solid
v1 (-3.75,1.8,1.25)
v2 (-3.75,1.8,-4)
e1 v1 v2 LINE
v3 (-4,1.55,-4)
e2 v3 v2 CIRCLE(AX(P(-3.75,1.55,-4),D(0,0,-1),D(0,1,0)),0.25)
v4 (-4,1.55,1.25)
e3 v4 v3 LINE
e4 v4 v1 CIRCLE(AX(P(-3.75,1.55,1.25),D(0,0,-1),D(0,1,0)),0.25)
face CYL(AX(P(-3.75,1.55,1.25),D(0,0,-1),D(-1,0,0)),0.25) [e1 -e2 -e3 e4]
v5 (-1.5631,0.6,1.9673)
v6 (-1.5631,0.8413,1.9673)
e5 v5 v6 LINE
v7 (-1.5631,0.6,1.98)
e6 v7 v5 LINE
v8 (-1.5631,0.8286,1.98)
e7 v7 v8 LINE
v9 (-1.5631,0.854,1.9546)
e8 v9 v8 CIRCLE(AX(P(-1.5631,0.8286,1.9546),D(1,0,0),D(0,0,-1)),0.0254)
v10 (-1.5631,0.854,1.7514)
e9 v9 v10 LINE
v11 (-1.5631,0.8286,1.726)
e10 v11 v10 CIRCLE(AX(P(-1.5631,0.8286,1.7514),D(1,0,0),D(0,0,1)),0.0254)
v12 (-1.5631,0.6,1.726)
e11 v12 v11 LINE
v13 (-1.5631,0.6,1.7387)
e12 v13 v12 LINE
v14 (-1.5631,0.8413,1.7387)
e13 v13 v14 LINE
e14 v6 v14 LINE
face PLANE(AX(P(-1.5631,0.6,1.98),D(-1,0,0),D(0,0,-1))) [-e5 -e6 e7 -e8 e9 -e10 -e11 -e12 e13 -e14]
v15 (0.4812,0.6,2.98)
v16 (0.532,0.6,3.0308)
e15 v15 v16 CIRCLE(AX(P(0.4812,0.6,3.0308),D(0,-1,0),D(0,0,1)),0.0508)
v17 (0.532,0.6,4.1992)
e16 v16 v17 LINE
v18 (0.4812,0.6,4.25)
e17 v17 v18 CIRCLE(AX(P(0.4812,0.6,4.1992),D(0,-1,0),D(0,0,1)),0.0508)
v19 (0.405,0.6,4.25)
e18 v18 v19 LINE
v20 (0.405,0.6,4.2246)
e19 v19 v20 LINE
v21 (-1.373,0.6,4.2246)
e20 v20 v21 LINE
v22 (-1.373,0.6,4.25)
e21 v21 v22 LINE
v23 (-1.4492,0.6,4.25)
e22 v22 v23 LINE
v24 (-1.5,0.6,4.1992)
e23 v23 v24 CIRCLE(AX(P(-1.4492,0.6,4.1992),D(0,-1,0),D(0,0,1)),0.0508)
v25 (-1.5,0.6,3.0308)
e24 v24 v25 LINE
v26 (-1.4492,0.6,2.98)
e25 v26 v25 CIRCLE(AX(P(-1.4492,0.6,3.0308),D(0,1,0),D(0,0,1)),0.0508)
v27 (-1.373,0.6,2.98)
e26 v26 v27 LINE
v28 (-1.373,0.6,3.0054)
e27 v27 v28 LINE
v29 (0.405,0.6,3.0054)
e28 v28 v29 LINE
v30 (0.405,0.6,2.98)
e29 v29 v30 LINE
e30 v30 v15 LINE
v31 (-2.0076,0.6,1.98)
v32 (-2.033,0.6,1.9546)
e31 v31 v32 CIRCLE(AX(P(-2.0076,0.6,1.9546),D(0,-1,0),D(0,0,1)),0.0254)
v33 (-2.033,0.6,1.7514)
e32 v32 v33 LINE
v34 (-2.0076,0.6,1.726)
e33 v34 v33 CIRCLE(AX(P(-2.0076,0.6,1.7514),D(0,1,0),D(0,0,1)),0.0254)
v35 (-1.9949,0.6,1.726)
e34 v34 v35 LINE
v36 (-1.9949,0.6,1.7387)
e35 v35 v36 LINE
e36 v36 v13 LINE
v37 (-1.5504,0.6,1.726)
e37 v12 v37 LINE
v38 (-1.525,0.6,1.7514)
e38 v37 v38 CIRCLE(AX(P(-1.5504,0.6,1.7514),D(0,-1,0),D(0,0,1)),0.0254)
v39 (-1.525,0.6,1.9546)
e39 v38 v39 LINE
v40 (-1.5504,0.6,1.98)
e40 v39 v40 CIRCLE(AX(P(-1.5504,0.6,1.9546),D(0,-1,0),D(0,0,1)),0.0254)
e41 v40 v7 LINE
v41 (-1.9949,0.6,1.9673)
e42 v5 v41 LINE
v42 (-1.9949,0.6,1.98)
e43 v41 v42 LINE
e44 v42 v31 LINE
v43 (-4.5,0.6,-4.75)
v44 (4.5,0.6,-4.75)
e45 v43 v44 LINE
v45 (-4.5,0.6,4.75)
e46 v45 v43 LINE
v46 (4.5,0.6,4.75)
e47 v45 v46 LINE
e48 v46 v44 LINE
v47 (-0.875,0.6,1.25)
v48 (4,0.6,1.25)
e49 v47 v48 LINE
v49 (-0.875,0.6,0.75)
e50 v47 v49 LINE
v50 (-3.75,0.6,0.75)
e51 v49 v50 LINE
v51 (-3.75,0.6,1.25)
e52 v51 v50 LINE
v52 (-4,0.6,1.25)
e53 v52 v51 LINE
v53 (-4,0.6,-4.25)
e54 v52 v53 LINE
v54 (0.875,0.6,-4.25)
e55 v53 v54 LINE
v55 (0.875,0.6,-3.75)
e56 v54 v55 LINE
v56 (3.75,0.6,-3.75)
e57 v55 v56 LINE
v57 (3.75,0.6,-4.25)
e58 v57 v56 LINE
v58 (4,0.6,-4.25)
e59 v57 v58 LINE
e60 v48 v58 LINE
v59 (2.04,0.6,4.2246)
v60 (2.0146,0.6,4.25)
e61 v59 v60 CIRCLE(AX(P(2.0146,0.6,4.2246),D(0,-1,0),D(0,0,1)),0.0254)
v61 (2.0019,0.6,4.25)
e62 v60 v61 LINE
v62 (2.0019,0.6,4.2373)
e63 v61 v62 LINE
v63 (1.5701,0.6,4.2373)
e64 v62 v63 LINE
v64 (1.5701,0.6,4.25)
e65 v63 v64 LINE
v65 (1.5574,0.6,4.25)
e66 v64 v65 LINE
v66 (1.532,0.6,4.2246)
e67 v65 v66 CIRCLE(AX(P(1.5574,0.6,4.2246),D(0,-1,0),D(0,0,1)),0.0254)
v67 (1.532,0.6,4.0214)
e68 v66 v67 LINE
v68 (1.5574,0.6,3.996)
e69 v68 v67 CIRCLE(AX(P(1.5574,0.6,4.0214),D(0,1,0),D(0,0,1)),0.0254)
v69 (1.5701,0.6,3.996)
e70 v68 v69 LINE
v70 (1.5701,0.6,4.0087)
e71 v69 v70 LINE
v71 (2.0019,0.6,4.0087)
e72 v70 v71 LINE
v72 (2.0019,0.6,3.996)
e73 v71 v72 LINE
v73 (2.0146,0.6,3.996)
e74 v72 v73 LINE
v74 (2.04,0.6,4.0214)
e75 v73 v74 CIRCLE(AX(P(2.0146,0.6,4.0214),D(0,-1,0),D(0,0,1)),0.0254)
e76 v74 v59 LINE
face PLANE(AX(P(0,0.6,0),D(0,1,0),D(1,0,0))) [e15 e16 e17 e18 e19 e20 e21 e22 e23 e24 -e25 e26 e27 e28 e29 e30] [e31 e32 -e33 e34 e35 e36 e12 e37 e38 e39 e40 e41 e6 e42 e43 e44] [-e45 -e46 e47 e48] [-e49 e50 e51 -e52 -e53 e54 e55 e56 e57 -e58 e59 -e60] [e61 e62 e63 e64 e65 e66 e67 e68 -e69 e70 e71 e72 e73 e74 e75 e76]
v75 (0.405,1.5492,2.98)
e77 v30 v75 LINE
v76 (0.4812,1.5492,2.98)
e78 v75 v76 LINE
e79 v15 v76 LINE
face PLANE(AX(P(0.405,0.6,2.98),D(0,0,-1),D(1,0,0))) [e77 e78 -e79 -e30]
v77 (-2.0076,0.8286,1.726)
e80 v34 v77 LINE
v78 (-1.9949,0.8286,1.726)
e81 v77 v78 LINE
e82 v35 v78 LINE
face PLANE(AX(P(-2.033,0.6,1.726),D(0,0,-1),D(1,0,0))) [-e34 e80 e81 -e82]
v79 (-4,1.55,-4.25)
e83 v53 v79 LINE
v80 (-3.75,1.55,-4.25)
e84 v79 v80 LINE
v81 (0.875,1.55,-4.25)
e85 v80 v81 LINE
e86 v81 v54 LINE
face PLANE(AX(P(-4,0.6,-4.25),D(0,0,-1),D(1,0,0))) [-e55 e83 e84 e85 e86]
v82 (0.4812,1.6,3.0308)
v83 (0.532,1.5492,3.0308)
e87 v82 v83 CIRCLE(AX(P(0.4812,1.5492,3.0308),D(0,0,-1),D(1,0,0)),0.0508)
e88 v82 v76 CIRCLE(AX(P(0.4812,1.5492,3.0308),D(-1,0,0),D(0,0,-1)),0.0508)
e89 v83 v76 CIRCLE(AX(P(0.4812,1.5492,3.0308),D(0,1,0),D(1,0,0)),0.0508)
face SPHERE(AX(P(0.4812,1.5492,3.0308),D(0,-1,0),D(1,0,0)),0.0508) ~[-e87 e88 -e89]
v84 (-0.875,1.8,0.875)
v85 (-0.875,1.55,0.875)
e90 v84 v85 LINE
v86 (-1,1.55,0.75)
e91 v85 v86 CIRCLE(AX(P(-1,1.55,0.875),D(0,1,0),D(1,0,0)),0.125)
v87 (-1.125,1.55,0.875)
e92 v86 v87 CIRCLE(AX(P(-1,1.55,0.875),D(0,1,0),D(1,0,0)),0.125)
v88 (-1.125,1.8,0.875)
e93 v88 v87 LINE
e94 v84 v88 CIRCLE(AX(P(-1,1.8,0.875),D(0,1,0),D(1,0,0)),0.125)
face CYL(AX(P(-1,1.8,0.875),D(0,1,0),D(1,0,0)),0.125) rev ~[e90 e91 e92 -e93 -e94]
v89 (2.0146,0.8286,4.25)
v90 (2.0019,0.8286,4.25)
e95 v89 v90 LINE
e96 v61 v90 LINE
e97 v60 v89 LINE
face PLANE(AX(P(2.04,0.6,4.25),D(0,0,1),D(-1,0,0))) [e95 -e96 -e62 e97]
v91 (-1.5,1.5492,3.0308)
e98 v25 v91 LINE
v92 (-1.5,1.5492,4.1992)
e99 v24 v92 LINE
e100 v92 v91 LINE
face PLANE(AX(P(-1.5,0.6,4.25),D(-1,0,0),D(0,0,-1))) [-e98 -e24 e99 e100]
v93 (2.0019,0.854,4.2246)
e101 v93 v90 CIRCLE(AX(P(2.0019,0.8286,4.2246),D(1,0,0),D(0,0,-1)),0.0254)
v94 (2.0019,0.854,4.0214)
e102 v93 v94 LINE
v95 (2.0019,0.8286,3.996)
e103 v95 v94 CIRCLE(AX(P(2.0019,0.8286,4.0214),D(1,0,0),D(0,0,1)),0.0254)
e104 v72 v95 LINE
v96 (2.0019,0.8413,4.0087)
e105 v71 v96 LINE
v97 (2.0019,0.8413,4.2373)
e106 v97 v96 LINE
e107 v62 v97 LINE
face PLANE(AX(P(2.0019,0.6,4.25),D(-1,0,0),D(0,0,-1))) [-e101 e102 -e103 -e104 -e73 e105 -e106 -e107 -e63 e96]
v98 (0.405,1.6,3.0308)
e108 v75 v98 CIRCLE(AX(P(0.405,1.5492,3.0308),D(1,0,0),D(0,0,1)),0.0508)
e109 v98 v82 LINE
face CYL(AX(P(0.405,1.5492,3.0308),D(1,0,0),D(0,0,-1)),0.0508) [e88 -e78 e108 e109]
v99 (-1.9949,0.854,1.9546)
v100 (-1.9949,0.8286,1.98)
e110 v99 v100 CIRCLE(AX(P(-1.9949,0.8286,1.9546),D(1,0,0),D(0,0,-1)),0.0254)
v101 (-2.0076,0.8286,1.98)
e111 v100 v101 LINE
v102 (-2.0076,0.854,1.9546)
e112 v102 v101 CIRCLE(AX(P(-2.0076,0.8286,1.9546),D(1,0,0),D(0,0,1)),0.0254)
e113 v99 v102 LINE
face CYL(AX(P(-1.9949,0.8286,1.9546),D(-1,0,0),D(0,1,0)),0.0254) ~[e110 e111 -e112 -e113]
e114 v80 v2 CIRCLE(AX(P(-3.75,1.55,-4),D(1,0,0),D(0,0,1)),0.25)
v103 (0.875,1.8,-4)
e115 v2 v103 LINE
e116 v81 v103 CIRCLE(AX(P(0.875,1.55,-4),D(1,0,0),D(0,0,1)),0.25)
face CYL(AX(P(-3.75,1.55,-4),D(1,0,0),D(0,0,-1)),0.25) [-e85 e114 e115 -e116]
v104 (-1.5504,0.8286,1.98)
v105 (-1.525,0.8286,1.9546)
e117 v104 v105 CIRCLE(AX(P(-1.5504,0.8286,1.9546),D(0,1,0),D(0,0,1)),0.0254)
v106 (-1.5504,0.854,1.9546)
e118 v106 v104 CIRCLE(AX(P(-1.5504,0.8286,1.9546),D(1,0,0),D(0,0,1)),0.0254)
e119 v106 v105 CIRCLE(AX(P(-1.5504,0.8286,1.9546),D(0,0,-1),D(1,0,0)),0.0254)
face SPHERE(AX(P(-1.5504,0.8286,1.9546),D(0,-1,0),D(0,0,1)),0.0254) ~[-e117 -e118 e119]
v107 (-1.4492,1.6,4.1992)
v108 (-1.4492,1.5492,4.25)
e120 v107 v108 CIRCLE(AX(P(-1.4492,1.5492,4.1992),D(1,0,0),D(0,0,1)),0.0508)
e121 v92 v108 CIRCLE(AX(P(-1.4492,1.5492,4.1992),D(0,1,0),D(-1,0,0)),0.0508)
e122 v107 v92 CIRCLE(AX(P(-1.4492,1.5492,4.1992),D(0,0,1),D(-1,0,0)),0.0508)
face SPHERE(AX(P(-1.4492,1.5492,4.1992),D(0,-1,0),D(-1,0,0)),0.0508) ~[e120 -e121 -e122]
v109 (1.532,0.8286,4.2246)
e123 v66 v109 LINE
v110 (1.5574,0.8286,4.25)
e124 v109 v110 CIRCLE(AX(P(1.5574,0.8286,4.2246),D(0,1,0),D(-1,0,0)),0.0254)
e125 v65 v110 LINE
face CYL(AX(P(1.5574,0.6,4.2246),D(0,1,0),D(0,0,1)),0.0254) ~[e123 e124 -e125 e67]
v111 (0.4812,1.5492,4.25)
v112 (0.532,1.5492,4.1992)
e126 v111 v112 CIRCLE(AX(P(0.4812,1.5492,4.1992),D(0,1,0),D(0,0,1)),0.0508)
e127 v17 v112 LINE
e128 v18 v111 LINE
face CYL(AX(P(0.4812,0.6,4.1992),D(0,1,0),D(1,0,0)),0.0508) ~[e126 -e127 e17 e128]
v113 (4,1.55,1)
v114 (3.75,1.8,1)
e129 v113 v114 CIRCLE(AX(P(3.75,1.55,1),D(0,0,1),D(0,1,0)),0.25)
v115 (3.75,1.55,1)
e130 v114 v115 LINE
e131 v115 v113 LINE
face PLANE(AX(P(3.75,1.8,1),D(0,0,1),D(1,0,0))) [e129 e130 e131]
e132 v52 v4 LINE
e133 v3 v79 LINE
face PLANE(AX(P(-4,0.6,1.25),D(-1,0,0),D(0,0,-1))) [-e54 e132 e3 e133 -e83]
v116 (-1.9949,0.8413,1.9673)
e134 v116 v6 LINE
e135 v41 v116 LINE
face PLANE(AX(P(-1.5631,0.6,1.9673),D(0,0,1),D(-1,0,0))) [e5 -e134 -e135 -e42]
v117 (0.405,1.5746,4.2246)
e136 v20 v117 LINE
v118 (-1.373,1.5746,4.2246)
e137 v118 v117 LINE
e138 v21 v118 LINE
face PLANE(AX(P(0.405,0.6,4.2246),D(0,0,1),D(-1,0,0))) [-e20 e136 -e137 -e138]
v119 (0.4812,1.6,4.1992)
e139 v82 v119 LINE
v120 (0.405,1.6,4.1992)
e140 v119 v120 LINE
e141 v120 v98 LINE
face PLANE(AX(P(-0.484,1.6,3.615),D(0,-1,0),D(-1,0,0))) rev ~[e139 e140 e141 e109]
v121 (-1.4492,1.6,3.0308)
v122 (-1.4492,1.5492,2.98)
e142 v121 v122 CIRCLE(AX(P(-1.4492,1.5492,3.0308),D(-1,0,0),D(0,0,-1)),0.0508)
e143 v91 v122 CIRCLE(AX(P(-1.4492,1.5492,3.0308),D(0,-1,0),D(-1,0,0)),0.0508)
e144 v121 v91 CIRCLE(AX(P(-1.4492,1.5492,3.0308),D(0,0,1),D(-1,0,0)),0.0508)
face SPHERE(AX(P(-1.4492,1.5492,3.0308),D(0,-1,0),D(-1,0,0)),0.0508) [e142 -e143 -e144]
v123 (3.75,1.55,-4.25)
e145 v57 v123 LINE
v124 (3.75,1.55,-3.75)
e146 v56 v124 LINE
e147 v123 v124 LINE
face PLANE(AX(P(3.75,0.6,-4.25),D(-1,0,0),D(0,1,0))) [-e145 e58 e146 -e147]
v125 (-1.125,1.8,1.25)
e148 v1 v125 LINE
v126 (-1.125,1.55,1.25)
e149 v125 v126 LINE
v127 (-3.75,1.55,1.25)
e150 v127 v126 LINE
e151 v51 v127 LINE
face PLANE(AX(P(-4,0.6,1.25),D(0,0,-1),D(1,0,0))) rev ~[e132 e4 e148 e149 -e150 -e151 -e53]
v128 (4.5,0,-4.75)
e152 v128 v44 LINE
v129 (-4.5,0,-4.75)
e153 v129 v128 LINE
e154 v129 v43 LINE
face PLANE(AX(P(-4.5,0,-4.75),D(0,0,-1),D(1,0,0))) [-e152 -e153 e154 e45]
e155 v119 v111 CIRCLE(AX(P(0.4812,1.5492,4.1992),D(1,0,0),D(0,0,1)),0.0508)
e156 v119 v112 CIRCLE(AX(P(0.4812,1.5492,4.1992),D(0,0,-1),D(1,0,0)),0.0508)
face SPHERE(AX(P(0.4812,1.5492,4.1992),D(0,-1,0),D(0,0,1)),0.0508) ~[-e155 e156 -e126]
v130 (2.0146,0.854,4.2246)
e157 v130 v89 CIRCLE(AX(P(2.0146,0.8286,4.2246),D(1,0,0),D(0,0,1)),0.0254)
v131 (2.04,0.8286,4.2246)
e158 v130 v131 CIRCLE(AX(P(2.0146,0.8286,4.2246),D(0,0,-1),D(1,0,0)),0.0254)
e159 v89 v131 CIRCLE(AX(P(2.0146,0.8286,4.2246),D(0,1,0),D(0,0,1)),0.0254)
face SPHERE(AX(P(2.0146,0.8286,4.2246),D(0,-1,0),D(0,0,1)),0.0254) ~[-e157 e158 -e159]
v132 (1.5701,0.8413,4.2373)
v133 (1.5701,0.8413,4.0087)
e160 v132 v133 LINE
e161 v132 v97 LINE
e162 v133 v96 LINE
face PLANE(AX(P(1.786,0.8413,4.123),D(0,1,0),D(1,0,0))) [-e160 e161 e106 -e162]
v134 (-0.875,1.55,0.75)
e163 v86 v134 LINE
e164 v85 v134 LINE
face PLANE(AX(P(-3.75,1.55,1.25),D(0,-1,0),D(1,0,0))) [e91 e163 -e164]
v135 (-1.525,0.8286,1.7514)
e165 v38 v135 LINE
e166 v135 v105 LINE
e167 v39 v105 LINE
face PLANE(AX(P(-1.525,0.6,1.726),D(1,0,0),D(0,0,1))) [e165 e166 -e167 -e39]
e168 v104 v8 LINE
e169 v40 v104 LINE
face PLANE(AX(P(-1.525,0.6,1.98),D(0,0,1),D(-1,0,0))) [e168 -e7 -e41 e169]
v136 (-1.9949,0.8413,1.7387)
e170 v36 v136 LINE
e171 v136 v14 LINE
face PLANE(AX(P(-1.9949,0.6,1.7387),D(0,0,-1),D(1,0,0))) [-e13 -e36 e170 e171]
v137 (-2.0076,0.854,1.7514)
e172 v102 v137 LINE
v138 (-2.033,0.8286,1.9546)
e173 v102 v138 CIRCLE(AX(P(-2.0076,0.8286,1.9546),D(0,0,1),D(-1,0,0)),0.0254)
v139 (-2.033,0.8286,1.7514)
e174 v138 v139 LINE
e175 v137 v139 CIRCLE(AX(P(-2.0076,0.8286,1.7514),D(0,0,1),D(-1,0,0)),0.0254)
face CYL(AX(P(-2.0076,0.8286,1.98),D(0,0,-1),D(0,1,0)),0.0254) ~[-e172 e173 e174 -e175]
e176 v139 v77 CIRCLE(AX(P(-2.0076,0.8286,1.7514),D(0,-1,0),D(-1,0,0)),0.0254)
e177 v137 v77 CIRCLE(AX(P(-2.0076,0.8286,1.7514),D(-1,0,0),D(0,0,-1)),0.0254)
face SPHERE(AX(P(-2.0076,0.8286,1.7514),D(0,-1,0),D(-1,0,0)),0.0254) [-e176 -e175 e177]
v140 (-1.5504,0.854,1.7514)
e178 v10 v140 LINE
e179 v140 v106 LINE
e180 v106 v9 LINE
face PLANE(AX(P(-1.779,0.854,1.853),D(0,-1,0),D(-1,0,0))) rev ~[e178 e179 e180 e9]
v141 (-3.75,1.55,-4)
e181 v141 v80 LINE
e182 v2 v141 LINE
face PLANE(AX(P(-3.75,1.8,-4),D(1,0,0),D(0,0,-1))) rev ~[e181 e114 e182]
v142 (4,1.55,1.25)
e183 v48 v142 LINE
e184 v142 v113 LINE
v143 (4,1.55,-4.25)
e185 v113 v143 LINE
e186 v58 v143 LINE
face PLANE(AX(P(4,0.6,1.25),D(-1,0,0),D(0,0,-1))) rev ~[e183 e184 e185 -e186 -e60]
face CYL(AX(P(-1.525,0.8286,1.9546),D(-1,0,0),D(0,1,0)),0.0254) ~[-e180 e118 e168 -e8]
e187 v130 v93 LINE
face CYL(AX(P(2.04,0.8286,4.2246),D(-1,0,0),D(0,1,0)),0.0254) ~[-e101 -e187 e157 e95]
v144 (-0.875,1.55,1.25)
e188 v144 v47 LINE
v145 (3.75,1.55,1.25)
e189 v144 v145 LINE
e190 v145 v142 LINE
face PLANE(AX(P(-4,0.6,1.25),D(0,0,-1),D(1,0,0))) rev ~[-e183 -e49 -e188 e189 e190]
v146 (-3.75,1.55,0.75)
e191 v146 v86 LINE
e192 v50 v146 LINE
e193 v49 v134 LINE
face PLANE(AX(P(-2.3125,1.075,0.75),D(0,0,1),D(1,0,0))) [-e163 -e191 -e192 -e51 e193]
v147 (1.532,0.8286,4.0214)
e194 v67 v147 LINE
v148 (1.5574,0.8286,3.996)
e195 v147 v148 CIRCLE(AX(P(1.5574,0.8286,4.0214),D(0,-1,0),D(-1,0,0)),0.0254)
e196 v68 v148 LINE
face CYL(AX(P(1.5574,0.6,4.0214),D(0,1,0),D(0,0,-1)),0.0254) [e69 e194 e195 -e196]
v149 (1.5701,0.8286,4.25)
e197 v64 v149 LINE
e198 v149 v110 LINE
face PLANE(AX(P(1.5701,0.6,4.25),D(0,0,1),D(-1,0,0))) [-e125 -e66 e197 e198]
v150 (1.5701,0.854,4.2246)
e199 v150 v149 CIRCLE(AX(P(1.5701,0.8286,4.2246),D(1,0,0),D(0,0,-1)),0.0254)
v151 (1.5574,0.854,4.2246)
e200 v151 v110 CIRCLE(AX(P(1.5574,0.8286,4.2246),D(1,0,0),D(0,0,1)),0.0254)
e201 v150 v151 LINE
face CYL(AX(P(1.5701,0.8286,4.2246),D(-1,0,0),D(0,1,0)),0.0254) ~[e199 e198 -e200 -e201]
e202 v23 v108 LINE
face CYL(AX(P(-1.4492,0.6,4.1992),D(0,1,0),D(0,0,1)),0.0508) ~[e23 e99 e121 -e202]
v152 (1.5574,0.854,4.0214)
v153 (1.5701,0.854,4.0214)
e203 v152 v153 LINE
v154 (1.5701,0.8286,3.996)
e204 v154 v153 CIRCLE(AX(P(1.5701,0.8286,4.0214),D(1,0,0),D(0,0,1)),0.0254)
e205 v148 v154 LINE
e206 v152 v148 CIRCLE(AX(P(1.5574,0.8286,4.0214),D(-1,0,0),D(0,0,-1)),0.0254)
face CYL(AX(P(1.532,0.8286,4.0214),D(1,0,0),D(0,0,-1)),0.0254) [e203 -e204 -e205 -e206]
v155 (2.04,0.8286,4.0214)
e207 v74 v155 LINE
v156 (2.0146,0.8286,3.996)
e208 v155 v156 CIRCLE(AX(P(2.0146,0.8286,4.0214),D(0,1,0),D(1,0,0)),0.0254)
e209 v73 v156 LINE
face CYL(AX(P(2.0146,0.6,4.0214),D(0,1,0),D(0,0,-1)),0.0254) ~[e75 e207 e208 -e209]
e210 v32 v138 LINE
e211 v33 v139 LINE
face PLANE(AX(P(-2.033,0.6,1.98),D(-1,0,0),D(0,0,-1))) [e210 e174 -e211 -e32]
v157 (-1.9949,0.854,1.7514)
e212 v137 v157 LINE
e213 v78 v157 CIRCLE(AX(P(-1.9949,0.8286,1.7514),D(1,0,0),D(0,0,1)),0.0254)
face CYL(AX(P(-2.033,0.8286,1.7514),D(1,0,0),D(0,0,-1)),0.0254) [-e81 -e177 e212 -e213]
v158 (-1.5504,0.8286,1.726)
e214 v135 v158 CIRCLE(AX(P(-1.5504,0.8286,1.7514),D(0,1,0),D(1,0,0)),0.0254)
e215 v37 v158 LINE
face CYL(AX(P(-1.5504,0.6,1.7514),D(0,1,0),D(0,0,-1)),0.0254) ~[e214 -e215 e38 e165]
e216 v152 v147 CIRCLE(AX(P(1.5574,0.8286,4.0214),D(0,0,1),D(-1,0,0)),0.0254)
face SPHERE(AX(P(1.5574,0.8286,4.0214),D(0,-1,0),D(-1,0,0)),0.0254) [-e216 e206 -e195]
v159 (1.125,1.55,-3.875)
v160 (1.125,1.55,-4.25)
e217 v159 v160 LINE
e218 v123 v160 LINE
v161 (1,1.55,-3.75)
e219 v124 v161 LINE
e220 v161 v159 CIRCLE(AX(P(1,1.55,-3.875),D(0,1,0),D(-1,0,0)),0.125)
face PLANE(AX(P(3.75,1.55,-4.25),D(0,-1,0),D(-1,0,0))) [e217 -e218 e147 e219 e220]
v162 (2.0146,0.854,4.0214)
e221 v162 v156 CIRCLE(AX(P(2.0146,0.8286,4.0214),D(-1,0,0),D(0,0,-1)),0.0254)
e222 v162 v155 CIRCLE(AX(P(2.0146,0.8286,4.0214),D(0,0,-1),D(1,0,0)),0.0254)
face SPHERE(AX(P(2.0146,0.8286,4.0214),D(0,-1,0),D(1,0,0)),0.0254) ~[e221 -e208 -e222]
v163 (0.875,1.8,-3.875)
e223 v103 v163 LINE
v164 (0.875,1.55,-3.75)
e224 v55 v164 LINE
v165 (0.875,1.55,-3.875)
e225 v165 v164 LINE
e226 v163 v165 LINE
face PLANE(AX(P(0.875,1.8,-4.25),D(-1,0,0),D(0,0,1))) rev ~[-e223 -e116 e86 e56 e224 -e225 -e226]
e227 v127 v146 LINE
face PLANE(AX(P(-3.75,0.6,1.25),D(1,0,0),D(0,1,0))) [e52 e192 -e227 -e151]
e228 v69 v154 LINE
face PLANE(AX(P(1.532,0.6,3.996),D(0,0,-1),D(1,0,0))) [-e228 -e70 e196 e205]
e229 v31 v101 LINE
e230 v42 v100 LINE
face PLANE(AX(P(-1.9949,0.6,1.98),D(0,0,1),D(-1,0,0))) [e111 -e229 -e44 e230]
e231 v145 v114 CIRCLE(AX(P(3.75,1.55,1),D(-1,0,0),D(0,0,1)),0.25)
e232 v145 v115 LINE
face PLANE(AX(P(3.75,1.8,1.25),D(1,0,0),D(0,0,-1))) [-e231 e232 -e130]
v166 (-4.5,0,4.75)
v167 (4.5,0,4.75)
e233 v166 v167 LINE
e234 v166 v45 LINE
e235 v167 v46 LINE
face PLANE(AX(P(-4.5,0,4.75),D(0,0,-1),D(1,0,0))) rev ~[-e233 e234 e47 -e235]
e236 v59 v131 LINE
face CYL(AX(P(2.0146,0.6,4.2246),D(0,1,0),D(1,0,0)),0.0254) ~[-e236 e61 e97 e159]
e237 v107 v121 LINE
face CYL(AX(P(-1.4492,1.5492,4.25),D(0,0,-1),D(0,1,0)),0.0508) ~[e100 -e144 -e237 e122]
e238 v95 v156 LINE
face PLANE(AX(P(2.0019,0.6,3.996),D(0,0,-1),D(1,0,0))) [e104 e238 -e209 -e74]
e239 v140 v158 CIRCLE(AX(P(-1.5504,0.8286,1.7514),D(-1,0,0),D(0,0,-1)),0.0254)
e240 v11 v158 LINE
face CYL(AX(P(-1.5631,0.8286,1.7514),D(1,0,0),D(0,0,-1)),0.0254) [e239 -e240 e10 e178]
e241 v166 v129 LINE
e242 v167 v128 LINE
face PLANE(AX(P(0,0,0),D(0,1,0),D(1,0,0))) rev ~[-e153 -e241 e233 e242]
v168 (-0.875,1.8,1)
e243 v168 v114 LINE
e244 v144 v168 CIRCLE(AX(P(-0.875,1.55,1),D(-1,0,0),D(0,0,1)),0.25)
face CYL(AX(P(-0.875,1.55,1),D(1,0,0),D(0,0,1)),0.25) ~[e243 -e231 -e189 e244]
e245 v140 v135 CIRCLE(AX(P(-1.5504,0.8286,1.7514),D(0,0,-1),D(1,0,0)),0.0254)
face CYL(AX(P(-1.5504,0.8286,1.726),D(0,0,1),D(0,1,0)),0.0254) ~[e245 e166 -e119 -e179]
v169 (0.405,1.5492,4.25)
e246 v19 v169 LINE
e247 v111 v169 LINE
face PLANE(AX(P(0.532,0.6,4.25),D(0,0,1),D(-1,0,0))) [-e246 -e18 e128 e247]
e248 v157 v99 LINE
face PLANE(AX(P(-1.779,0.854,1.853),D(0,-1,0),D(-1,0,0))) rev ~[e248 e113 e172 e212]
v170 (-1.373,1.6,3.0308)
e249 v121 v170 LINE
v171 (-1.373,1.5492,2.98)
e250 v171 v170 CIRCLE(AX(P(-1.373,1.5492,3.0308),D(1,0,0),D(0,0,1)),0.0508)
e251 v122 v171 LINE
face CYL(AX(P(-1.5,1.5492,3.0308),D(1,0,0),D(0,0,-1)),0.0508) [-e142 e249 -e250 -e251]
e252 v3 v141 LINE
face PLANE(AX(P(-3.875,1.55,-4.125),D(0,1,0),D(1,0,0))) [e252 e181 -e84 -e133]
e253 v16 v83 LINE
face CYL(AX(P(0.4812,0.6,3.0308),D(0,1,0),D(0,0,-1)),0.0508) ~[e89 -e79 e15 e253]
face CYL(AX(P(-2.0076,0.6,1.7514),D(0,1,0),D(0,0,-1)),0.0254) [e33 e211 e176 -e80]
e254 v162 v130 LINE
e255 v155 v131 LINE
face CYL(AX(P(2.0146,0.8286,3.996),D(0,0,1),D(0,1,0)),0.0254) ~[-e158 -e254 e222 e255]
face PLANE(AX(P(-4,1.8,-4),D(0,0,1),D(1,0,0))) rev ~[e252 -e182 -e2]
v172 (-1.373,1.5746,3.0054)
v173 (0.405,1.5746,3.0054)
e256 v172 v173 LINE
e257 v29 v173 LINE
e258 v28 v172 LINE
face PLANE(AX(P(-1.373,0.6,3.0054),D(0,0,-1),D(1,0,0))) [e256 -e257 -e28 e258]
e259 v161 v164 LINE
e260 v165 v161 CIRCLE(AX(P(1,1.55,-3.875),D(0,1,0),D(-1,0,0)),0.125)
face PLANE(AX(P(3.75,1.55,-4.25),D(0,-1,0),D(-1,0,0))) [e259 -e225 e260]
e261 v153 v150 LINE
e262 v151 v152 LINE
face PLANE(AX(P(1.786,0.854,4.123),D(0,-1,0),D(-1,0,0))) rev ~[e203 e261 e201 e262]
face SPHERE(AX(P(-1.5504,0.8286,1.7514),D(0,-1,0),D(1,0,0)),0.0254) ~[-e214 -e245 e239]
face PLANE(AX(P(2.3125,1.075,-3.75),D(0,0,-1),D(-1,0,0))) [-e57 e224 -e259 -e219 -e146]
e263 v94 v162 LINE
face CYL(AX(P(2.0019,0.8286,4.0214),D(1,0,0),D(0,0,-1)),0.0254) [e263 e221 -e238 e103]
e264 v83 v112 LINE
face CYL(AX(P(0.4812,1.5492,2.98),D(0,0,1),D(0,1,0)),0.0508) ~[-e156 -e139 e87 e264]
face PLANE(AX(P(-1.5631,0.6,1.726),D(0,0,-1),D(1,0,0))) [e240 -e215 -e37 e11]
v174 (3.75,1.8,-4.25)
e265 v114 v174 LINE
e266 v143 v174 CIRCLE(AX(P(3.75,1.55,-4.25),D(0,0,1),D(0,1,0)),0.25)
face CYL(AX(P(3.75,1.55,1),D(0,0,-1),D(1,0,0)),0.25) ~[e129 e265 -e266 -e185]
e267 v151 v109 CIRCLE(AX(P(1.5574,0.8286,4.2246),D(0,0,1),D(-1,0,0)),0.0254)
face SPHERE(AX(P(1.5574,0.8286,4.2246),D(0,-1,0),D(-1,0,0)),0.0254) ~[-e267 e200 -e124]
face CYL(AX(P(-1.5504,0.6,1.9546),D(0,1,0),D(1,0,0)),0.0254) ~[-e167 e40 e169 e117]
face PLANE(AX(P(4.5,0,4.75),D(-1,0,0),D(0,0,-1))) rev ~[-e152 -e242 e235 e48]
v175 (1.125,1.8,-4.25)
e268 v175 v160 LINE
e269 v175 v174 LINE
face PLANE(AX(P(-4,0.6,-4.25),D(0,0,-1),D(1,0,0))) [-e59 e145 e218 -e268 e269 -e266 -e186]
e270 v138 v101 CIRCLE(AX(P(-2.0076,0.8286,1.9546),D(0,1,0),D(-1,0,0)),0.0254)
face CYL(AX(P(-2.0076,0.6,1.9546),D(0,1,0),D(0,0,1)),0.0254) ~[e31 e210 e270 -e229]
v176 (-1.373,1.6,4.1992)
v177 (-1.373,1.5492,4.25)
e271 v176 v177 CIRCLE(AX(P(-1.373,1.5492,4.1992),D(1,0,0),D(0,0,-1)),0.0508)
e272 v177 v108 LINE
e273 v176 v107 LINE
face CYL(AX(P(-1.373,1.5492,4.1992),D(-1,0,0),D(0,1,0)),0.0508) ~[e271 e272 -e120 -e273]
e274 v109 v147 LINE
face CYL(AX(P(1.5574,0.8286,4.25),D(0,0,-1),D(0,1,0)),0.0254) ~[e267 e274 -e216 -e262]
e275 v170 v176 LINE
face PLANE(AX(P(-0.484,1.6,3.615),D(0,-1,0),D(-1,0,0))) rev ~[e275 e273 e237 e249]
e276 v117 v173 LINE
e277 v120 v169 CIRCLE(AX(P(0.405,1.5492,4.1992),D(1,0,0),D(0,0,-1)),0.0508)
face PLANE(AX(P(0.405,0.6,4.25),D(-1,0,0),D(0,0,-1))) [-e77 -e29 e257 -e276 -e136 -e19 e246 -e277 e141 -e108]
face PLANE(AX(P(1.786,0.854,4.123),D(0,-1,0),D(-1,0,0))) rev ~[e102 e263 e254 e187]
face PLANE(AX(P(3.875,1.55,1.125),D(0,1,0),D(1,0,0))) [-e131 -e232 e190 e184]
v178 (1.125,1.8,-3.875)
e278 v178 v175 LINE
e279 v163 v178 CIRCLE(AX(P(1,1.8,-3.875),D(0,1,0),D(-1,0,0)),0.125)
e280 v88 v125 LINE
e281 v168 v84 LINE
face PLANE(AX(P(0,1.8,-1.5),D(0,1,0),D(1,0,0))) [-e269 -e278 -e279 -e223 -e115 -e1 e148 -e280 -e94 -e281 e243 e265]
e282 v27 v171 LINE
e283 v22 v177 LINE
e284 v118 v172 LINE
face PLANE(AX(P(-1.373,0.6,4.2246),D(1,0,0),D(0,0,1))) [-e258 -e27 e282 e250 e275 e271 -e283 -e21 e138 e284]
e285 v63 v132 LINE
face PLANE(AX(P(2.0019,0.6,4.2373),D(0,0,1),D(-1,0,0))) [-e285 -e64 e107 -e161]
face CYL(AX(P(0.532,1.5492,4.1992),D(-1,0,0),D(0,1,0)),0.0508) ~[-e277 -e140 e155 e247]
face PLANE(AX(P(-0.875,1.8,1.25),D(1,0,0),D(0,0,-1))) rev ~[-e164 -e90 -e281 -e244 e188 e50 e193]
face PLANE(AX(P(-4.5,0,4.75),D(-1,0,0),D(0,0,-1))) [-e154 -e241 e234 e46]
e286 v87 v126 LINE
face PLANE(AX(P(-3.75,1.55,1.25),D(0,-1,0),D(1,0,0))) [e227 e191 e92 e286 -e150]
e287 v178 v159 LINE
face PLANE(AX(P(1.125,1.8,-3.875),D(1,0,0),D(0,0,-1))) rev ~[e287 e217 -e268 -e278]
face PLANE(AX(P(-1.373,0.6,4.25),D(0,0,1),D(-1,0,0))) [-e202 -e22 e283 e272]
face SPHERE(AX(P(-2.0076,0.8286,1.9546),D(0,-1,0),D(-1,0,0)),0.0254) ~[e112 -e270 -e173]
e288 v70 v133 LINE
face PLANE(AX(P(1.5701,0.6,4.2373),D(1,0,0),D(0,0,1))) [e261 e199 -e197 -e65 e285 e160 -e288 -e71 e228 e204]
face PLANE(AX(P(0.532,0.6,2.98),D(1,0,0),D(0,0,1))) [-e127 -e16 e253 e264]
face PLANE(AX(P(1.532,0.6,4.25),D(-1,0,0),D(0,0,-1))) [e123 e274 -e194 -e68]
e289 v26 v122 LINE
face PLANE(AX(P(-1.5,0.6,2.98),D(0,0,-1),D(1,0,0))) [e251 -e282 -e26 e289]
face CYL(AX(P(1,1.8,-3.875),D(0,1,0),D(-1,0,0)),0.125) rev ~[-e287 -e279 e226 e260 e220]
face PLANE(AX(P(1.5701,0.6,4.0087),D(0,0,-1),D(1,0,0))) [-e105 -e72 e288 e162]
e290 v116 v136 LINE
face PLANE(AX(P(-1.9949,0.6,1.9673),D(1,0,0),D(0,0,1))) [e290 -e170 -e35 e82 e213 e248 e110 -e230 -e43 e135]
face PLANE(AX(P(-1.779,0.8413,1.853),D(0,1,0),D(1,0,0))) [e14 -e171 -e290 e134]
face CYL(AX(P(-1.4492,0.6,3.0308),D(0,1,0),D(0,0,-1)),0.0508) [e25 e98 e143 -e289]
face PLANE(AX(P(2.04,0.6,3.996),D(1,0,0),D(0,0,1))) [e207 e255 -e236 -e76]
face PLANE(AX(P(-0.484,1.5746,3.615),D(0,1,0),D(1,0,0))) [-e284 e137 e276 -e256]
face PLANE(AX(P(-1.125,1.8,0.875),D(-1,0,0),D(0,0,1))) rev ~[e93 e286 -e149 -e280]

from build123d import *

# Parameters (mm, degrees)
SKETCH1_W           = 9
SKETCH1_H           = 9.5
BOSS_EXTRUDE1_DEPTH = 0.6
SKETCH2_W           = 8
SKETCH2_H           = 5.5
BOSS_EXTRUDE2_DEPTH = 1.2
CUT_EXTRUDE1_DEPTH  = 1.2
SKETCH4_W           = 0.25
SKETCH4_H           = 0.25
CUT_EXTRUDE2_DEPTH  = 0.25
FILLET1_R           = 0.25
SKETCH5_W           = 2.875
SKETCH5_H           = 0.95
CUT_EXTRUDE3_DEPTH  = 0.5
SKETCH7_W           = 2.875
SKETCH7_H           = 0.95
CUT_EXTRUDE4_DEPTH  = 0.5
BOSS_EXTRUDE3_DEPTH = 1
SKETCH9_W           = 1.778
SKETCH9_H           = 1.2192
CUT_EXTRUDE5_DEPTH  = 0.0254
FILLET2_R           = 0.0508
BOSS_EXTRUDE4_DEPTH = 0.254
SKETCH11_W          = 0.4318
SKETCH11_H          = 0.2286
CUT_EXTRUDE6_DEPTH  = 0.0127
FILLET3_R           = 0.0254


with BuildPart() as part:
    # Sketch1 → Boss-Extrude1 (new body)
    with BuildSketch(Plane(origin=(0, 0, 0), x_dir=(1, 0, 0), z_dir=(0, 1, 0))):
        Rectangle(SKETCH1_W, SKETCH1_H)
    extrude(amount=BOSS_EXTRUDE1_DEPTH)

    # Sketch2 → Boss-Extrude2 (add)
    with BuildSketch(Plane(origin=(0, 0.6, 0), x_dir=(1, 0, 0), z_dir=(0, 1, 0))):
        with Locations((0, 1.5)):
            Rectangle(SKETCH2_W, SKETCH2_H)
    extrude(amount=BOSS_EXTRUDE2_DEPTH)

    # Sketch3 → Cut-Extrude1 (cut)
    with BuildSketch(Plane(origin=(0, 1.8, 0), x_dir=(1, 0, 0), z_dir=(0, 1, 0))):
        with BuildLine():
            Line((0.875, 4.25), (0.875, 3.875))
            ThreePointArc((0.875, 3.875), (1, 3.75), (1.125, 3.875))
            Line((1.125, 3.875), (1.125, 4.25))
            Line((1.125, 4.25), (0.875, 4.25))
        make_face()
        with BuildLine():
            Line((-1.125, -0.875), (-1.125, -1.25))
            Line((-1.125, -1.25), (-0.875, -1.25))
            Line((-0.875, -1.25), (-0.875, -0.875))
            ThreePointArc((-0.875, -0.875), (-1, -0.75), (-1.125, -0.875))
        make_face()
    extrude(amount=-CUT_EXTRUDE1_DEPTH, mode=Mode.SUBTRACT)

    # Sketch4 → Cut-Extrude2 (cut)
    with BuildSketch(Plane(origin=(0, 1.8, 0), x_dir=(1, 0, 0), z_dir=(0, 1, 0))):
        with Locations((3.875, -1.125)):
            Rectangle(SKETCH4_W, SKETCH4_H)
        with Locations((-3.875, 4.125)):
            Rectangle(SKETCH4_W, SKETCH4_H)
    extrude(amount=-CUT_EXTRUDE2_DEPTH, mode=Mode.SUBTRACT)

    # Fillet1
    fillet1_edges = [part.edges().sort_by_distance(p)[0] for p in [
        (-1.4375, 1.8, -4.25),
        (4, 1.8, -1.625),
        (1.4375, 1.8, 1.25),
        (-4, 1.8, -1.375),
    ]]
    fillet(fillet1_edges, radius=FILLET1_R)

    # Sketch5 → Cut-Extrude3 (cut)
    with BuildSketch(Plane.XY.offset(1.25)):
        with Locations((-2.3125, 1.075)):
            Rectangle(SKETCH5_W, SKETCH5_H)
    extrude(amount=-CUT_EXTRUDE3_DEPTH, mode=Mode.SUBTRACT)

    # Sketch7 → Cut-Extrude4 (cut)
    with BuildSketch(Plane(origin=(0, 0, -4.25), x_dir=(-1, 0, 0), z_dir=(0, 0, -1))):
        with Locations((-2.3125, 1.075)):
            Rectangle(SKETCH7_W, SKETCH7_H)
    extrude(amount=-CUT_EXTRUDE4_DEPTH, mode=Mode.SUBTRACT)

    # Sketch8 → Boss-Extrude3 (add)
    with BuildSketch(Plane(origin=(0, 0.6, 0), x_dir=(1, 0, 0), z_dir=(0, 1, 0))):
        Polygon((-1.5, -2.98), (-1.373, -2.98), (-1.373, -3.0054), (0.405, -3.0054), (0.405, -2.98), (0.532, -2.98), (0.532, -4.25), (0.405, -4.25), (0.405, -4.2246), (-1.373, -4.2246), (-1.373, -4.25), (-1.5, -4.25), align=None)
    extrude(amount=BOSS_EXTRUDE3_DEPTH)

    # Sketch9 → Cut-Extrude5 (cut)
    with BuildSketch(Plane(origin=(0, 1.6, 0), x_dir=(1, 0, 0), z_dir=(0, 1, 0))):
        with Locations((-0.484, -3.615)):
            Rectangle(SKETCH9_W, SKETCH9_H)
    extrude(amount=-CUT_EXTRUDE5_DEPTH, mode=Mode.SUBTRACT)

    # Fillet2
    fillet2_edges = [part.edges().sort_by_distance(p)[0] for p in [
        (-1.5, 1.1, 2.98),
        (-1.5, 1.1, 4.25),
        (0.532, 1.1, 4.25),
        (0.532, 1.1, 2.98),
        (-1.5, 1.6, 3.615),
        (-1.4365, 1.6, 4.25),
        (0.4685, 1.6, 4.25),
        (0.532, 1.6, 3.615),
        (0.4685, 1.6, 2.98),
        (-1.4365, 1.6, 2.98),
    ]]
    fillet(fillet2_edges, radius=FILLET2_R)

    # Sketch10 → Boss-Extrude4 (add)
    with BuildSketch(Plane(origin=(0, 0.6, 0), x_dir=(1, 0, 0), z_dir=(0, 1, 0))):
        Polygon((-2.033, -1.726), (-1.9949, -1.726), (-1.9949, -1.7387), (-1.5631, -1.7387), (-1.5631, -1.726), (-1.525, -1.726), (-1.525, -1.98), (-1.5631, -1.98), (-1.5631, -1.9673), (-1.9949, -1.9673), (-1.9949, -1.98), (-2.033, -1.98), align=None)
        Polygon((1.532, -3.996), (1.5701, -3.996), (1.5701, -4.0087), (2.0019, -4.0087), (2.0019, -3.996), (2.04, -3.996), (2.04, -4.25), (2.0019, -4.25), (2.0019, -4.2373), (1.5701, -4.2373), (1.5701, -4.25), (1.532, -4.25), align=None)
    extrude(amount=BOSS_EXTRUDE4_DEPTH)

    # Sketch11 → Cut-Extrude6 (cut)
    with BuildSketch(Plane(origin=(0, 0.854, 0), x_dir=(1, 0, 0), z_dir=(0, 1, 0))):
        with Locations((-1.779, -1.853)):
            Rectangle(SKETCH11_W, SKETCH11_H)
        with Locations((1.786, -4.123)):
            Rectangle(SKETCH11_W, SKETCH11_H)
    extrude(amount=-CUT_EXTRUDE6_DEPTH, mode=Mode.SUBTRACT)

    # Fillet3
    fillet3_edges = [part.edges().sort_by_distance(p)[0] for p in [
        (-2.033, 0.727, 1.726),
        (-2.033, 0.727, 1.98),
        (-1.525, 0.727, 1.98),
        (-1.525, 0.727, 1.726),
        (-2.033, 0.854, 1.853),
        (-2.01395, 0.854, 1.98),
        (-1.54405, 0.854, 1.98),
        (-1.525, 0.854, 1.853),
        (-1.54405, 0.854, 1.726),
        (-2.01395, 0.854, 1.726),
        (1.532, 0.727, 3.996),
        (1.532, 0.727, 4.25),
        (2.04, 0.727, 4.25),
        (2.04, 0.727, 3.996),
        (1.532, 0.854, 4.123),
        (1.55105, 0.854, 4.25),
        (2.02095, 0.854, 4.25),
        (2.04, 0.854, 4.123),
        (2.02095, 0.854, 3.996),
        (1.55105, 0.854, 3.996),
    ]]
    fillet(fillet3_edges, radius=FILLET3_R)


solid = part.part
